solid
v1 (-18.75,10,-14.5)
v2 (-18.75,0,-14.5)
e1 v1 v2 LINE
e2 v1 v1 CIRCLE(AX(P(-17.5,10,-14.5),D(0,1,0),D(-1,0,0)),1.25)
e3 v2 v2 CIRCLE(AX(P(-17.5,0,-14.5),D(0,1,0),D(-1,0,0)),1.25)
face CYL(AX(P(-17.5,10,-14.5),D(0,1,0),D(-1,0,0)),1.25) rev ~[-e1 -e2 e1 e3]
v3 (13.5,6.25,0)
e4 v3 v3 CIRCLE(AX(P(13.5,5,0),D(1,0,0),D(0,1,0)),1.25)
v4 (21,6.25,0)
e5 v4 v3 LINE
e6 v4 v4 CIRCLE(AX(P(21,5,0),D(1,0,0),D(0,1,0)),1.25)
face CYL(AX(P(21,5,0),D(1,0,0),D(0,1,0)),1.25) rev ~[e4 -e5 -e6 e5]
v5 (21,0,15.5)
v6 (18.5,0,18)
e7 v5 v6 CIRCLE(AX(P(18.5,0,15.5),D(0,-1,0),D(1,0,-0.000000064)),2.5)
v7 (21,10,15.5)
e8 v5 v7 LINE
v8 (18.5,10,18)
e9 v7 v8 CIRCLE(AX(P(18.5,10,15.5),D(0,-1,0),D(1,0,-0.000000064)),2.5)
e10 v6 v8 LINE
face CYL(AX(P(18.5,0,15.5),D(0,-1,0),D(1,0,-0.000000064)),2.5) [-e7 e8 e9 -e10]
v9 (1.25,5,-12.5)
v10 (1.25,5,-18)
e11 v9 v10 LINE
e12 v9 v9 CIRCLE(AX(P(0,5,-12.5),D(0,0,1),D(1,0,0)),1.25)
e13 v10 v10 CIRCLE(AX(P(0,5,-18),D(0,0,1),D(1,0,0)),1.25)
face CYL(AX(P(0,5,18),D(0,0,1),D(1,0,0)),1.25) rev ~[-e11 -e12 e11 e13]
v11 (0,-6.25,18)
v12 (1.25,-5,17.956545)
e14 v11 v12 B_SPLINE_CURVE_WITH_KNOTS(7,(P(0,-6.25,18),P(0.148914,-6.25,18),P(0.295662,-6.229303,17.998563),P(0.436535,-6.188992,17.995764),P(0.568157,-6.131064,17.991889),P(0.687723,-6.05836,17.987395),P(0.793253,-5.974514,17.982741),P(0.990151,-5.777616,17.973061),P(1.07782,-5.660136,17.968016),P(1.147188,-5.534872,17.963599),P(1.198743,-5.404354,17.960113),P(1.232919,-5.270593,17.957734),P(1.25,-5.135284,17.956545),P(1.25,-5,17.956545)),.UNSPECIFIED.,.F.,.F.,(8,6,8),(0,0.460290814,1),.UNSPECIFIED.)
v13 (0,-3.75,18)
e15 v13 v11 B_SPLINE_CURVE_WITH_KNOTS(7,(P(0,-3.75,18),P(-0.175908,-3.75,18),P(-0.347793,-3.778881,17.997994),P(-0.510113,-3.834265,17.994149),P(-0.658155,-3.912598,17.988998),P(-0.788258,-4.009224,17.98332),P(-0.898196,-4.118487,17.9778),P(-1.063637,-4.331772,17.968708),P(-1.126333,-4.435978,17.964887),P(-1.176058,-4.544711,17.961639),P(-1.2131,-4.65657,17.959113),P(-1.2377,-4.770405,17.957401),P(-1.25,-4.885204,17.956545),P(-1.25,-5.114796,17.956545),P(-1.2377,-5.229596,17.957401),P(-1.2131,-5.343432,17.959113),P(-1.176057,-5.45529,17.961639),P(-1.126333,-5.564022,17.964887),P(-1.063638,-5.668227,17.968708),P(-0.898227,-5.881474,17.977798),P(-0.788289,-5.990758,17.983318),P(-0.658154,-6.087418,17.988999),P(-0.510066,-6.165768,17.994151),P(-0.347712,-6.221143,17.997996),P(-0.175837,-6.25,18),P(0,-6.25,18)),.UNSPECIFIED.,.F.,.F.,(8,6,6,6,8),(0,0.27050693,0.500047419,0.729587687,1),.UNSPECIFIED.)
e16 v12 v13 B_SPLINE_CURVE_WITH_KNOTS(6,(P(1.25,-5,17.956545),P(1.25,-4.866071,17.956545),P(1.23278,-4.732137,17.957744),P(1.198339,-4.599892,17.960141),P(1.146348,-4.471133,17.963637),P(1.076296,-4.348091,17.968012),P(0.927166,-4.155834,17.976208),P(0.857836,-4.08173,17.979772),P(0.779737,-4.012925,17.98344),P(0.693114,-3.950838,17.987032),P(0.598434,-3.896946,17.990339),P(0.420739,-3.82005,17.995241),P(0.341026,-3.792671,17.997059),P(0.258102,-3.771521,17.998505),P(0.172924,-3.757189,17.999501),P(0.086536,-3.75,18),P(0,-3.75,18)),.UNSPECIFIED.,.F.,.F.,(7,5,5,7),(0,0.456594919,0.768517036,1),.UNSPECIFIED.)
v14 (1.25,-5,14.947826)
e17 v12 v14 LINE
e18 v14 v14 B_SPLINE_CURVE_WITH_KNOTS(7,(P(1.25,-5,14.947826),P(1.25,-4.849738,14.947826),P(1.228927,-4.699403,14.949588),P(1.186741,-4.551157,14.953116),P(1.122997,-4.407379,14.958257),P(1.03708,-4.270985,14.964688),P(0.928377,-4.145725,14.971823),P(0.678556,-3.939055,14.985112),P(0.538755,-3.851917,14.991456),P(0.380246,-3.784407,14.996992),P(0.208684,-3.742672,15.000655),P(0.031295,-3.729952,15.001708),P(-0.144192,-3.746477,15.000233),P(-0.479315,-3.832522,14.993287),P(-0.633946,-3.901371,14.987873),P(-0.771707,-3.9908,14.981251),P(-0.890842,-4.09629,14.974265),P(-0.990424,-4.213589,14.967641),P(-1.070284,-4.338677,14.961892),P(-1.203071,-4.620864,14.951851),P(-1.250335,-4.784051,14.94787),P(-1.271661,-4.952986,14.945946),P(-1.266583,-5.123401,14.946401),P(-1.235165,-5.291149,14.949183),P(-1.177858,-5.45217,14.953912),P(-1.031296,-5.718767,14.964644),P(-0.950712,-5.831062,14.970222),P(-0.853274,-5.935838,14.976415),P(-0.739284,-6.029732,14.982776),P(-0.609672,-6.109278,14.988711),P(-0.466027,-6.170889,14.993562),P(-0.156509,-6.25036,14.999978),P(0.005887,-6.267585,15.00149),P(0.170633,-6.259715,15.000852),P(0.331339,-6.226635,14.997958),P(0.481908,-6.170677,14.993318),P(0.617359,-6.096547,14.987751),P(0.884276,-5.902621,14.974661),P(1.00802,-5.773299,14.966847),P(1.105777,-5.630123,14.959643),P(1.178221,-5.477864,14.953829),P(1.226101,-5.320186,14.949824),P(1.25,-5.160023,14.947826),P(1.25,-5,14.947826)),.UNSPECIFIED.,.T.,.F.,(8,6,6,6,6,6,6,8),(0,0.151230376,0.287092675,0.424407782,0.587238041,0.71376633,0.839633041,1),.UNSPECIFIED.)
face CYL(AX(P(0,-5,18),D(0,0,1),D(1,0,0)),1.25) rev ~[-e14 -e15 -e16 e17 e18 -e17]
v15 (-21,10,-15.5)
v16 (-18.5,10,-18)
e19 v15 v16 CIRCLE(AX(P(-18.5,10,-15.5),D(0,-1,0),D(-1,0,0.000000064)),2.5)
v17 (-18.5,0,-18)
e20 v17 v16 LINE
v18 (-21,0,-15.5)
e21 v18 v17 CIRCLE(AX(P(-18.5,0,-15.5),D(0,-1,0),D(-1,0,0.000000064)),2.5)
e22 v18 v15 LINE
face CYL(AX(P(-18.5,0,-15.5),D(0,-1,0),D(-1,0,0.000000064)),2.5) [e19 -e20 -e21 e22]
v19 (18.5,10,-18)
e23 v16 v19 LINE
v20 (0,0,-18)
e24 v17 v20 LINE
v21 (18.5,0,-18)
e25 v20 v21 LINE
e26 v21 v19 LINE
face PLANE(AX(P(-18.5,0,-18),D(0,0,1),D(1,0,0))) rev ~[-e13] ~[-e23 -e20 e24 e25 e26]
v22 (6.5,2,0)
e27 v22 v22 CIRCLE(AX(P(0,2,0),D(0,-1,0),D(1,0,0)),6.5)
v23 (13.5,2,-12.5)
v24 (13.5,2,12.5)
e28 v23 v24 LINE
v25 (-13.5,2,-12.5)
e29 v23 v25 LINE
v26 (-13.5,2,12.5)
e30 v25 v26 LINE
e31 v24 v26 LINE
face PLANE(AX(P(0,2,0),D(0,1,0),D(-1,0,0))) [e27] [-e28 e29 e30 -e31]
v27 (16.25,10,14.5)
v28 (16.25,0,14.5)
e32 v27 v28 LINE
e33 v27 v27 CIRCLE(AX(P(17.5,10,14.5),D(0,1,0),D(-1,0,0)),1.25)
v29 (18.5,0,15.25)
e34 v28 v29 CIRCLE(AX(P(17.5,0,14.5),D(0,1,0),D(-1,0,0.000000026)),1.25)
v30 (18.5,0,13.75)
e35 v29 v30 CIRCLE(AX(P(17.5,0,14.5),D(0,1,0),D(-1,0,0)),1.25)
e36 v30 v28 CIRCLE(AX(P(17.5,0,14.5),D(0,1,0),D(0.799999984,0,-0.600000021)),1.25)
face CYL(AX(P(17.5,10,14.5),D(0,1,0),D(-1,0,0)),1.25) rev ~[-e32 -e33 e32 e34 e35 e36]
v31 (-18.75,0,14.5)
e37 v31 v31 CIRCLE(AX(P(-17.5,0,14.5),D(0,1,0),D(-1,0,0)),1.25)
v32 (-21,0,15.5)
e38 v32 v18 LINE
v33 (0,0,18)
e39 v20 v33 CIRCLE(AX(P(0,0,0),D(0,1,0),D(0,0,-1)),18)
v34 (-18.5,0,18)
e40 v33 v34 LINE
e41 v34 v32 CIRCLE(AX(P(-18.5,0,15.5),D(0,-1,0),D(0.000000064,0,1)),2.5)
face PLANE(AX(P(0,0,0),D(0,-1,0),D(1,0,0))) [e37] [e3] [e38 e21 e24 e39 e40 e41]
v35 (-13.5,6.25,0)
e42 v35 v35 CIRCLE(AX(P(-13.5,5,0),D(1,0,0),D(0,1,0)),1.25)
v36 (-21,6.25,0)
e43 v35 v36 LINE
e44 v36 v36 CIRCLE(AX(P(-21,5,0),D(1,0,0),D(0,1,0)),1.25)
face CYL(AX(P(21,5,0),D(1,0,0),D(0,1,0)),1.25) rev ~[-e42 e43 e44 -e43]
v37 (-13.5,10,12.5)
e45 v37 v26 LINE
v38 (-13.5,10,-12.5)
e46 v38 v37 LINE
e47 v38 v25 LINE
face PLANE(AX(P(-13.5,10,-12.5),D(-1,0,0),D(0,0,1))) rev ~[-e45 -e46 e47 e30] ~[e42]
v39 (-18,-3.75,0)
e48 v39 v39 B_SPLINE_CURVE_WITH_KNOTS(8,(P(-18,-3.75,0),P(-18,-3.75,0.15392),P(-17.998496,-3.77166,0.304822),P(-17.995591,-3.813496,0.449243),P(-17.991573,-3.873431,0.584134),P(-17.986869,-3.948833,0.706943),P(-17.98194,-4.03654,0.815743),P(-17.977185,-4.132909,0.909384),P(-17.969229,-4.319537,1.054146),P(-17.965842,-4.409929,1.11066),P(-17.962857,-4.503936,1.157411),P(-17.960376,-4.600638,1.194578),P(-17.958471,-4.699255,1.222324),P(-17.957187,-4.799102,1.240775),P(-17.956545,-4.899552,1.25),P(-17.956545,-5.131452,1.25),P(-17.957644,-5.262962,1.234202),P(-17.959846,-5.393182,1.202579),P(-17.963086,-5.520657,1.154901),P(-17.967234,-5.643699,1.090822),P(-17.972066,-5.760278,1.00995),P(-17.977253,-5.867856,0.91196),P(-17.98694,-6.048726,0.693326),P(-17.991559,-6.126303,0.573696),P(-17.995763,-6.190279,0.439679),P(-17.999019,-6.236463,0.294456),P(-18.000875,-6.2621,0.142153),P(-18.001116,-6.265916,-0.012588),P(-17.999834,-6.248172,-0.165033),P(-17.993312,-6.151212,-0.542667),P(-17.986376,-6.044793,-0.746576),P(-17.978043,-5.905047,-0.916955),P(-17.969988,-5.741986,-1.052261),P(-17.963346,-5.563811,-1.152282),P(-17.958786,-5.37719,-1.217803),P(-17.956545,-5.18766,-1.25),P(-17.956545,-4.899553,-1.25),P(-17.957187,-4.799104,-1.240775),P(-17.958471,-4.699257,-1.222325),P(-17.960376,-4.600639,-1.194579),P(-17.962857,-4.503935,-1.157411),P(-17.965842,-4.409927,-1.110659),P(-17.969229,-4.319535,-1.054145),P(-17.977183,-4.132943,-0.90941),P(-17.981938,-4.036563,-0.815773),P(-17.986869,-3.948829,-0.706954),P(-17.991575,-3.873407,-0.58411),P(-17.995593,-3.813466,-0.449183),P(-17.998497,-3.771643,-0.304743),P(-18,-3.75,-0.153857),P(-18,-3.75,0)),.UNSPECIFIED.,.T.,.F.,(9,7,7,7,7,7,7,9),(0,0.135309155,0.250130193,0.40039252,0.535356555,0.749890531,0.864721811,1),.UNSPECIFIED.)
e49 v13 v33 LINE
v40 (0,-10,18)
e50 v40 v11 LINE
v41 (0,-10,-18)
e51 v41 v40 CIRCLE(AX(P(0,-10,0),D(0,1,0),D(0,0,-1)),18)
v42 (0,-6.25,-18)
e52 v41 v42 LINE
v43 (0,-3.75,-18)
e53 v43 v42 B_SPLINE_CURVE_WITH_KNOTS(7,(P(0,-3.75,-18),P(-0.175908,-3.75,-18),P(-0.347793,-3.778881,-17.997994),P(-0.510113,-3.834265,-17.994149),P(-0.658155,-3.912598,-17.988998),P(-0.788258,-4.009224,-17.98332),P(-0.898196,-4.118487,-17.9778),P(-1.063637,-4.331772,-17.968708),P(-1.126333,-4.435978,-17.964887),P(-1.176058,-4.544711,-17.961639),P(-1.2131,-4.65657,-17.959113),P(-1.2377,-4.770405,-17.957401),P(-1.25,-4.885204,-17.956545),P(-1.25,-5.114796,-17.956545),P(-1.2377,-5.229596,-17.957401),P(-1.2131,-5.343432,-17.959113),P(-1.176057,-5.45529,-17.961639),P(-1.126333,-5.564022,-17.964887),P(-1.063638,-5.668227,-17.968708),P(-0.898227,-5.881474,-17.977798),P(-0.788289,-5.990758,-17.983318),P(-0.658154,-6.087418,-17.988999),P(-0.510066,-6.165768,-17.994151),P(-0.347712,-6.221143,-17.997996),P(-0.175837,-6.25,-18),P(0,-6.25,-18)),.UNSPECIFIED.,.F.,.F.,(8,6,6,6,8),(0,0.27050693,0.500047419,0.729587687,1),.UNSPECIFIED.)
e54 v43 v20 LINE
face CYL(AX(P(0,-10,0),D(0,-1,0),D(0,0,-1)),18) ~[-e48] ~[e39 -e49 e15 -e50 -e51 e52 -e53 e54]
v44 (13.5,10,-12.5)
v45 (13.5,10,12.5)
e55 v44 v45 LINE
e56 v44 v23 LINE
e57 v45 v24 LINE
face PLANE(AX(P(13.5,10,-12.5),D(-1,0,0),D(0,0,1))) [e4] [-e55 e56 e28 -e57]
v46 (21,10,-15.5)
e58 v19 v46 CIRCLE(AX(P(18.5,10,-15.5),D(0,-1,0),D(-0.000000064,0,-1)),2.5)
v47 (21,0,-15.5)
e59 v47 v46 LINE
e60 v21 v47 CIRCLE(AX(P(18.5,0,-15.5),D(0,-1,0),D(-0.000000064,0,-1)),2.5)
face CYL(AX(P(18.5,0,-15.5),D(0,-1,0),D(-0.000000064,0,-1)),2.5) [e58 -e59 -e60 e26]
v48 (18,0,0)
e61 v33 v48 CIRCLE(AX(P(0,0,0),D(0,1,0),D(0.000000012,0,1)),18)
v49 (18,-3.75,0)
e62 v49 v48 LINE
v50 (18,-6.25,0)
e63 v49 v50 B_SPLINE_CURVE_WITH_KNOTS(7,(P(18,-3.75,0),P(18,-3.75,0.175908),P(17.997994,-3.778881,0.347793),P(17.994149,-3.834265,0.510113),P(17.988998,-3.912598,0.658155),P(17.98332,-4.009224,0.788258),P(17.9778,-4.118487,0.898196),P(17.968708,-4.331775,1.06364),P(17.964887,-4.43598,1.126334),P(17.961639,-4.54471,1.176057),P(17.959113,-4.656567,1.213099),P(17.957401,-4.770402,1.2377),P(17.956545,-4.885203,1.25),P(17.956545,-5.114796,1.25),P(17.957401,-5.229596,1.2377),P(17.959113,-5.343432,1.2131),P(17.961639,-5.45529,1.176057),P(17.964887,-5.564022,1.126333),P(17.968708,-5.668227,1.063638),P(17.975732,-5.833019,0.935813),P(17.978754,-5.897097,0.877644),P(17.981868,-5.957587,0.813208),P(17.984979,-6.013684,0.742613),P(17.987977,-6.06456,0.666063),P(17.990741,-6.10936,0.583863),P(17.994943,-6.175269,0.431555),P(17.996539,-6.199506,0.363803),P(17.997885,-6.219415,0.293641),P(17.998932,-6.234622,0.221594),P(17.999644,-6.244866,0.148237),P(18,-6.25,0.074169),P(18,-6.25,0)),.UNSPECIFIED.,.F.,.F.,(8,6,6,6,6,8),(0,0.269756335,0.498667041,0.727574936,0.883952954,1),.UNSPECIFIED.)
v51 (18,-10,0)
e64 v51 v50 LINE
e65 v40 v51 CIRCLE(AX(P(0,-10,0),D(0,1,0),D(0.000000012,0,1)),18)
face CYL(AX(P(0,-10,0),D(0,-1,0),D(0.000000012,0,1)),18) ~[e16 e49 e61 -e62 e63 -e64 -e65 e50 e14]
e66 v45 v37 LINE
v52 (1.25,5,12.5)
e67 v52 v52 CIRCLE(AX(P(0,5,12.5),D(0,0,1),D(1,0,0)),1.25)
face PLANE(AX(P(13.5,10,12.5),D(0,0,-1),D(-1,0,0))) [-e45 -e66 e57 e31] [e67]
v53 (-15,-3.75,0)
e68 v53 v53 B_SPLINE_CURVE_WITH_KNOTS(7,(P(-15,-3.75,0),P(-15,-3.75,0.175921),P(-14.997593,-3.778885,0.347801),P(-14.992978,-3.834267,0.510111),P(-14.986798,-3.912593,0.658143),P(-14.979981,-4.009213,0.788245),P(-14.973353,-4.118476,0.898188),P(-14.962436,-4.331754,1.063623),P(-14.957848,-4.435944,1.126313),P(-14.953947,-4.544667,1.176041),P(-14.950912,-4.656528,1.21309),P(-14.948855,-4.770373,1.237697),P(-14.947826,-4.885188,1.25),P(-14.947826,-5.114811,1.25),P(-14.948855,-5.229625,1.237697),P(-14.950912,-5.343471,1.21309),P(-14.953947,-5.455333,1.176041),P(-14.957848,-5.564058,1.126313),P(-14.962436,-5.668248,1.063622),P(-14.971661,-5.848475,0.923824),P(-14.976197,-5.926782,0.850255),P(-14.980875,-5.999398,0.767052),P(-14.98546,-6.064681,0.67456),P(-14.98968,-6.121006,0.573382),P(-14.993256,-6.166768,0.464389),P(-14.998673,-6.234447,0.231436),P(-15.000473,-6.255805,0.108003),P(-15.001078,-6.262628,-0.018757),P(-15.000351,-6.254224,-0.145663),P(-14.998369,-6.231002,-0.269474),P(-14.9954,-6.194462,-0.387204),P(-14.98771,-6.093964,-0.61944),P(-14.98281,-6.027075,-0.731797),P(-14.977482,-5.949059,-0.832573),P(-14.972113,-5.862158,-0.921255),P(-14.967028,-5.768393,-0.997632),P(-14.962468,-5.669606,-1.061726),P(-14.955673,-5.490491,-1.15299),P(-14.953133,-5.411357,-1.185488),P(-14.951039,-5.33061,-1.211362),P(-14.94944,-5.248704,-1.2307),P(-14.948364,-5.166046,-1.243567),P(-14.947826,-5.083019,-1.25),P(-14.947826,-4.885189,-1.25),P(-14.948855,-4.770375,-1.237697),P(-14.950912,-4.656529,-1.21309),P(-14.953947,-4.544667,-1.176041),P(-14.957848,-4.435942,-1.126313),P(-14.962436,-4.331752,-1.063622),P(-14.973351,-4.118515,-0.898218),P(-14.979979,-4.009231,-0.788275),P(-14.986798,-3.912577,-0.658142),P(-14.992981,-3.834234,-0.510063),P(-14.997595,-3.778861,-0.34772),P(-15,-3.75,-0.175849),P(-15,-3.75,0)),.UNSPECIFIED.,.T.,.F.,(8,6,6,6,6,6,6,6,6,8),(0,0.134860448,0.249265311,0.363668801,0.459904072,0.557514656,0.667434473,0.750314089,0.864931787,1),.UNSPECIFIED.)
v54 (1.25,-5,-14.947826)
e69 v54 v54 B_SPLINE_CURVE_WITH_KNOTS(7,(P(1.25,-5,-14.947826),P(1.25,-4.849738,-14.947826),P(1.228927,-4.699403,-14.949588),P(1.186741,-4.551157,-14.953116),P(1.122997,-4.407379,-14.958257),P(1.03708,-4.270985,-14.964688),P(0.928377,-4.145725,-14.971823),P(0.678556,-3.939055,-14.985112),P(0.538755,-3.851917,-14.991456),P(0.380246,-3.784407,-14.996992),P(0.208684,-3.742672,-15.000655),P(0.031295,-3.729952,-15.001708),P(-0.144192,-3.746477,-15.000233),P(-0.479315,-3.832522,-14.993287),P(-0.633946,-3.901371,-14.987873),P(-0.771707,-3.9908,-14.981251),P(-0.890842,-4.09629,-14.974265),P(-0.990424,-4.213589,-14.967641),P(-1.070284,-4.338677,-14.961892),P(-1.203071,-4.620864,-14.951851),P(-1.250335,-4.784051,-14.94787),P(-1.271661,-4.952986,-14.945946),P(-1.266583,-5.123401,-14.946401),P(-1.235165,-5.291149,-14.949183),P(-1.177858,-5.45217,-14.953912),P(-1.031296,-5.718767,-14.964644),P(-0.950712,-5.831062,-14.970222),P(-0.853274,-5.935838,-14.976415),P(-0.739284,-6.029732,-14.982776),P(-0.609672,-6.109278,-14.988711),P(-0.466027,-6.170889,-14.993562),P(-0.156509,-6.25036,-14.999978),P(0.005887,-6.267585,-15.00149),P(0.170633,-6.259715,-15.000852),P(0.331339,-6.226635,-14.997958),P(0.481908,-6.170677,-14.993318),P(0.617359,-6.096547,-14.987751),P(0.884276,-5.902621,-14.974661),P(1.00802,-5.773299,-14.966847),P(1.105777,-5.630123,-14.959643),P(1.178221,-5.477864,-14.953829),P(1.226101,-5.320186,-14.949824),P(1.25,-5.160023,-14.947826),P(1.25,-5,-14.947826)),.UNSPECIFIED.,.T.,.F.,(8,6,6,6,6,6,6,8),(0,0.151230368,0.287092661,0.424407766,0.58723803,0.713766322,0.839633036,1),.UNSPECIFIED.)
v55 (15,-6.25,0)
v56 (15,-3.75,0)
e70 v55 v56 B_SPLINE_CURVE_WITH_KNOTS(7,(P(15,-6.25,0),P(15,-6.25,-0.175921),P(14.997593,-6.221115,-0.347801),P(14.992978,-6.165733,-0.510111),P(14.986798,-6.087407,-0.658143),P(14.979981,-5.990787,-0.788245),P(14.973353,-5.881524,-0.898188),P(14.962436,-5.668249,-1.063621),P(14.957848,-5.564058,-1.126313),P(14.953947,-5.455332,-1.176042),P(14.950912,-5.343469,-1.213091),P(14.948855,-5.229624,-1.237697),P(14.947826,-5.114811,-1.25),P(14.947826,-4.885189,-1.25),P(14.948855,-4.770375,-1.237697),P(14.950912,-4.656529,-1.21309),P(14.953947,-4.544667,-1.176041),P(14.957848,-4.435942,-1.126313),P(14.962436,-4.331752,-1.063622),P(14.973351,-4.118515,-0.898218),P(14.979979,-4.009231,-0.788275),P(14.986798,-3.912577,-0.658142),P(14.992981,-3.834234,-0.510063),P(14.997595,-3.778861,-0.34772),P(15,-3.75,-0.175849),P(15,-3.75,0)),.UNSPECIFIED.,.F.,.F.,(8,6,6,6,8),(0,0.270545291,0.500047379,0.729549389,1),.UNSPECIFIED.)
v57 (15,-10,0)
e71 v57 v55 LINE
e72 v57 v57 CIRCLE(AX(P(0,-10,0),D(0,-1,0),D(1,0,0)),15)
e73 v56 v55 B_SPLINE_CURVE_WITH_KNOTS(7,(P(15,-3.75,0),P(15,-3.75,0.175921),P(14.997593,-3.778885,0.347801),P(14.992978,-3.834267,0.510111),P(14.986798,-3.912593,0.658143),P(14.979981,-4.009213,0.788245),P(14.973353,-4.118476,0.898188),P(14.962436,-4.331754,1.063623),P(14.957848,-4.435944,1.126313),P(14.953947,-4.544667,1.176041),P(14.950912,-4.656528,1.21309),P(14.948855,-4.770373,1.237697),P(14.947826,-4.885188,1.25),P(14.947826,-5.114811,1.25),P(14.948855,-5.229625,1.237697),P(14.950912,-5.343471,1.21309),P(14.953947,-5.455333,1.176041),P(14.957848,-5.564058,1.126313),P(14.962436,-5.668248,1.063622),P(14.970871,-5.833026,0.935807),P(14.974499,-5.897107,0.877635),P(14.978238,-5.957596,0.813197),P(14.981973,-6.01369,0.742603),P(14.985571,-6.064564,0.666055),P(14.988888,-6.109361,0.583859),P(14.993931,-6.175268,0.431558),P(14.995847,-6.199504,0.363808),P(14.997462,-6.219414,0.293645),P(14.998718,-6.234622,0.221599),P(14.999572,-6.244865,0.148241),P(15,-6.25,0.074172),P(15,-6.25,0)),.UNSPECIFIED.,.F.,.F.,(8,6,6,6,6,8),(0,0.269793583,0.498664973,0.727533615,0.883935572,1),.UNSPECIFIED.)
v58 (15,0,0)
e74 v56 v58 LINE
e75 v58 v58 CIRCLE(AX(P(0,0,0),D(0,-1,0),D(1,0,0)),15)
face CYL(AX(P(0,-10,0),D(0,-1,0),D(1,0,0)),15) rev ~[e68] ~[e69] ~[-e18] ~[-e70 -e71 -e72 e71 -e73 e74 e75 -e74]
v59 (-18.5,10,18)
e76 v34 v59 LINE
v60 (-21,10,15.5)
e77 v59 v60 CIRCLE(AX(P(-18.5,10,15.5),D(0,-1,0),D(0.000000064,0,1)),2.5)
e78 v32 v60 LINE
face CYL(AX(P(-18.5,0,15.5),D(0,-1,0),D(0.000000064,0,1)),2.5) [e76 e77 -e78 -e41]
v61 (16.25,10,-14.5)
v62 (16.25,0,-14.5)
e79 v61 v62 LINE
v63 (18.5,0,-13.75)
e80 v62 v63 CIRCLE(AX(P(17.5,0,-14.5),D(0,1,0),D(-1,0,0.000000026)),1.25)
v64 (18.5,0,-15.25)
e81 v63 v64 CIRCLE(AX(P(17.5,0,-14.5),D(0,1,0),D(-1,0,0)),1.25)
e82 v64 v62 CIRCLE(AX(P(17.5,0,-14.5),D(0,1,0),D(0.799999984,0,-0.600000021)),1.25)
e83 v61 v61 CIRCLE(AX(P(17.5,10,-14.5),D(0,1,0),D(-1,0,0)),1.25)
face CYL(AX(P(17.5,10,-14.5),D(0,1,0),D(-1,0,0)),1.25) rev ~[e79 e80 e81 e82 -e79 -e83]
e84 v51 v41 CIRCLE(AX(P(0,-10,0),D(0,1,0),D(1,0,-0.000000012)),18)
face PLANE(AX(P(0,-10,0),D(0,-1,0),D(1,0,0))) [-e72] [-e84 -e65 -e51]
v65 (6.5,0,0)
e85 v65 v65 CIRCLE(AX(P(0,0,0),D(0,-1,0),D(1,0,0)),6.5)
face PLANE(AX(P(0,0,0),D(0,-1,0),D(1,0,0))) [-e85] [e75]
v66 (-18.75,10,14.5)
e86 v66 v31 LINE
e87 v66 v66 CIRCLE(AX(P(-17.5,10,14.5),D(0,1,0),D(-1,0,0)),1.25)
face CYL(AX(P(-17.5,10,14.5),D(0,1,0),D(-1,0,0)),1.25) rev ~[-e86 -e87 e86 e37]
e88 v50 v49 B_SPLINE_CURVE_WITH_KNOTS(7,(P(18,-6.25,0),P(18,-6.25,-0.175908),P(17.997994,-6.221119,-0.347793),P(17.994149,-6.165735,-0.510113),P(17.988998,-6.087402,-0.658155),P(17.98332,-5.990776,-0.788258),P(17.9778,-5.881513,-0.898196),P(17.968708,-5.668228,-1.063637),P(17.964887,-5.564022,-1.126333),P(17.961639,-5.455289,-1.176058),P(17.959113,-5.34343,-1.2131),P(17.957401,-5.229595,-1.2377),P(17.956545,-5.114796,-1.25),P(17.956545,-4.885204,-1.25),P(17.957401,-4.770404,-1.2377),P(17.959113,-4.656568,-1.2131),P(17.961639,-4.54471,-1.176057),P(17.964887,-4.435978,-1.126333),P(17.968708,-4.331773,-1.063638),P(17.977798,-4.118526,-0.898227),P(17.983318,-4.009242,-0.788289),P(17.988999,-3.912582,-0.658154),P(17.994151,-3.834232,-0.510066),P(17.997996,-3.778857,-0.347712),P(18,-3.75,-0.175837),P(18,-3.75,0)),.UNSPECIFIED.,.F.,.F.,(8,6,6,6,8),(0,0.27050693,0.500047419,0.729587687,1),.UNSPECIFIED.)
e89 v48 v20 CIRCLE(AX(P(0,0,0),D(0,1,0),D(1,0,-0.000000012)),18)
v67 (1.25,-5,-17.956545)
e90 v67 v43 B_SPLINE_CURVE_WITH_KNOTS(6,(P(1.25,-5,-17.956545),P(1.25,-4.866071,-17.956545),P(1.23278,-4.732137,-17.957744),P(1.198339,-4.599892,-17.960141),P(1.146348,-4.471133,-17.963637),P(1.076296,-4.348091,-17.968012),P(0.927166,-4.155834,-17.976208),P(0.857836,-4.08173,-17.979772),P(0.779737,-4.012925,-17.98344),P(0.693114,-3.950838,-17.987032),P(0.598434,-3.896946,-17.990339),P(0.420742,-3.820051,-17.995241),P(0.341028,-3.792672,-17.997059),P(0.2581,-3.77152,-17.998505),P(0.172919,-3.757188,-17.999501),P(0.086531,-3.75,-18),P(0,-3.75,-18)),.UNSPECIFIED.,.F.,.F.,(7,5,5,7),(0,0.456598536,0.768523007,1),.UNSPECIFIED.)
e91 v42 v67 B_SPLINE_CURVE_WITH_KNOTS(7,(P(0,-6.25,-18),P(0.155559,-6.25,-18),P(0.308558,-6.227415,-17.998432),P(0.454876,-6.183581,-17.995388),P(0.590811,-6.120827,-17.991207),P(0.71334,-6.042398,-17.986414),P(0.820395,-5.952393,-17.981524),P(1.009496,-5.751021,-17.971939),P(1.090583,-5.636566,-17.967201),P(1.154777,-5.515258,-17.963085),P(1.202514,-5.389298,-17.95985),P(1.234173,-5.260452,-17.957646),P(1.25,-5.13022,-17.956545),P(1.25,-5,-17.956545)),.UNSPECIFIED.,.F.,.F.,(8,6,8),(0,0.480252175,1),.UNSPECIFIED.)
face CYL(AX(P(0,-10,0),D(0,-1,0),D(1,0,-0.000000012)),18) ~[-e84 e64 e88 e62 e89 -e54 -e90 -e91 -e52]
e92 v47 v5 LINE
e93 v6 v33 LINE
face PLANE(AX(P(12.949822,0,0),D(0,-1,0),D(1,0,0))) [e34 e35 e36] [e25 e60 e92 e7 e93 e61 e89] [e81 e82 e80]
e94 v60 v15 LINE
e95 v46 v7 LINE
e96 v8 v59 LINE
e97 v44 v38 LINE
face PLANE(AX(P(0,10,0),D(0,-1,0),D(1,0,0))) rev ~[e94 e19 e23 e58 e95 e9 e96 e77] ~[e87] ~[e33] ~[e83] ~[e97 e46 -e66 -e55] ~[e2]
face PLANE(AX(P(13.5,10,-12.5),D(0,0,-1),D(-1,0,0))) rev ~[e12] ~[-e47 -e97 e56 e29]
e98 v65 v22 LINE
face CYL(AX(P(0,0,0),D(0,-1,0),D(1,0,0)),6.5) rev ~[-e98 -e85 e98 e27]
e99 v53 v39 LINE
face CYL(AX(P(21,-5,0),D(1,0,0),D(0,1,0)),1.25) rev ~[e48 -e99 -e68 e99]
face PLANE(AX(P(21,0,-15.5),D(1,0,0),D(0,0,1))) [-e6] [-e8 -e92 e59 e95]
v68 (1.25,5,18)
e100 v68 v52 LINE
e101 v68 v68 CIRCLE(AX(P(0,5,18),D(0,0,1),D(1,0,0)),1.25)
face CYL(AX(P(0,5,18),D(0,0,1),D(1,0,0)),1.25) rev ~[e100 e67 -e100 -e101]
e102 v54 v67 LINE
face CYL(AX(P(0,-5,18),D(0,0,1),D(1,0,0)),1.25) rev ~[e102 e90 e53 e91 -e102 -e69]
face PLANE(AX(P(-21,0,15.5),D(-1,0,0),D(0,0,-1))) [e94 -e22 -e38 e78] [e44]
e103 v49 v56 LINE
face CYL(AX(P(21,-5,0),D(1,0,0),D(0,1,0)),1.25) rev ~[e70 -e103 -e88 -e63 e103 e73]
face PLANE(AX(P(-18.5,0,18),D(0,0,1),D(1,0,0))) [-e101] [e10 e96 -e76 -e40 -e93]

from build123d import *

# Parameters (mm, degrees)
F1_DEPTH  = 10
F2_W      = 37
F2_H      = 36
F3_DEPTH  = 10
F4_R      = 1.25
F5_DEPTH  = 25
F6_W      = 27
F6_H      = 25
F7_DEPTH  = 8
F8_R      = 1.25
F9_DEPTH  = 36.001
F10_R     = 1.25
F11_DEPTH = 42.001
F13_R     = 15
F14_DEPTH = 10
F15_DEPTH = 10
F16_R     = 6.5
F17_DEPTH = 10.001


with BuildPart() as f1:
    # F0 (on Front) → F1 (new body)
    with BuildSketch(Plane.XZ):
        with BuildLine():
            Line((-18.5, -18), (18.5, -18))
            ThreePointArc((18.5, -18), (20.267767, -17.267767), (21, -15.5))
            Line((21, -15.5), (21, 15.5))
            ThreePointArc((21, 15.5), (20.267767, 17.267767), (18.5, 18))
            Line((18.5, 18), (-18.5, 18))
            ThreePointArc((-18.5, 18), (-20.267767, 17.267767), (-21, 15.5))
            Line((-21, 15.5), (-21, -15.5))
            ThreePointArc((-21, -15.5), (-20.267767, -17.267767), (-18.5, -18))
        make_face()
    extrude(amount=-F1_DEPTH)

    # F2 (on face) → F3 (join)
    with BuildSketch(Plane.XZ):
        Rectangle(F2_W, F2_H)
    extrude(amount=F3_DEPTH)

    # F4 (on face) → F5 (cut)
    with BuildSketch(Plane(origin=(0, 10, 0), x_dir=(-1, 0, 0), z_dir=(0, 1, 0))):
        with Locations((-17.5, 14.5)):
            Circle(F4_R)
        with Locations((17.5, 14.5)):
            Circle(F4_R)
        with Locations((-17.5, -14.5)):
            Circle(F4_R)
        with Locations((17.5, -14.5)):
            Circle(F4_R)
    extrude(amount=-F5_DEPTH, mode=Mode.SUBTRACT)

    # F6 (on face) → F7 (cut)
    with BuildSketch(Plane(origin=(0, 10, 0), x_dir=(-1, 0, 0), z_dir=(0, 1, 0))):
        Rectangle(F6_W, F6_H)
    extrude(amount=-F7_DEPTH, mode=Mode.SUBTRACT)

    # F8 (on face) → F9 (cut, through all)
    with BuildSketch(Plane.XY.offset(18)):
        with Locations((0, 5)):
            Circle(F8_R)
        with Locations((0, -5)):
            Circle(F8_R)
    extrude(amount=-F9_DEPTH, mode=Mode.SUBTRACT)

    # F10 (on face) → F11 (cut, through all)
    with BuildSketch(Plane.YZ.offset(21)):
        with Locations((5, 0)):
            Circle(F10_R)
        with Locations((-5, 0)):
            Circle(F10_R)
    extrude(amount=-F11_DEPTH, mode=Mode.SUBTRACT)

    # F13 (on face) → F14 (cut)
    with BuildSketch(Plane.XZ.offset(10)):
        Circle(F13_R)
    extrude(amount=-F14_DEPTH, mode=Mode.SUBTRACT)

    # F12 (on face) → F15 (cut)
    with BuildSketch(Plane.XZ.offset(10)):
        with BuildLine():
            ThreePointArc((0, -18), (-18, 0), (0, 18))
            Line((0, 18), (-18.5, 18))
            Line((-18.5, 18), (-18.5, 15.25))
            ThreePointArc((-18.5, 15.25), (-16.25, 14.5), (-18.5, 13.75))
            Line((-18.5, 13.75), (-18.5, -13.75))
            ThreePointArc((-18.5, -13.75), (-16.25, -14.5), (-18.5, -15.25))
            Line((-18.5, -15.25), (-18.5, -18))
            Line((-18.5, -18), (0, -18))
        make_face()
        with BuildLine():
            ThreePointArc((0, 18), (12.727922, 12.727922), (18, 0))
            ThreePointArc((18, 0), (12.727922, -12.727922), (0, -18))
            Line((0, -18), (18.5, -18))
            Line((18.5, -18), (18.5, -15.25))
            ThreePointArc((18.5, -15.25), (17.104715, -15.685854), (16.25, -14.5))
            ThreePointArc((16.25, -14.5), (17.104715, -13.314146), (18.5, -13.75))
            Line((18.5, -13.75), (18.5, 13.75))
            ThreePointArc((18.5, 13.75), (17.104715, 13.314146), (16.25, 14.5))
            ThreePointArc((16.25, 14.5), (17.104715, 15.685854), (18.5, 15.25))
            Line((18.5, 15.25), (18.5, 18))
            Line((18.5, 18), (0, 18))
        make_face()
    extrude(amount=-F15_DEPTH, mode=Mode.SUBTRACT)

    # F16 (on face) → F17 (cut, through all)
    with BuildSketch(Plane.XZ):
        Circle(F16_R)
    extrude(amount=-F17_DEPTH, mode=Mode.SUBTRACT)


solid = f1.part
